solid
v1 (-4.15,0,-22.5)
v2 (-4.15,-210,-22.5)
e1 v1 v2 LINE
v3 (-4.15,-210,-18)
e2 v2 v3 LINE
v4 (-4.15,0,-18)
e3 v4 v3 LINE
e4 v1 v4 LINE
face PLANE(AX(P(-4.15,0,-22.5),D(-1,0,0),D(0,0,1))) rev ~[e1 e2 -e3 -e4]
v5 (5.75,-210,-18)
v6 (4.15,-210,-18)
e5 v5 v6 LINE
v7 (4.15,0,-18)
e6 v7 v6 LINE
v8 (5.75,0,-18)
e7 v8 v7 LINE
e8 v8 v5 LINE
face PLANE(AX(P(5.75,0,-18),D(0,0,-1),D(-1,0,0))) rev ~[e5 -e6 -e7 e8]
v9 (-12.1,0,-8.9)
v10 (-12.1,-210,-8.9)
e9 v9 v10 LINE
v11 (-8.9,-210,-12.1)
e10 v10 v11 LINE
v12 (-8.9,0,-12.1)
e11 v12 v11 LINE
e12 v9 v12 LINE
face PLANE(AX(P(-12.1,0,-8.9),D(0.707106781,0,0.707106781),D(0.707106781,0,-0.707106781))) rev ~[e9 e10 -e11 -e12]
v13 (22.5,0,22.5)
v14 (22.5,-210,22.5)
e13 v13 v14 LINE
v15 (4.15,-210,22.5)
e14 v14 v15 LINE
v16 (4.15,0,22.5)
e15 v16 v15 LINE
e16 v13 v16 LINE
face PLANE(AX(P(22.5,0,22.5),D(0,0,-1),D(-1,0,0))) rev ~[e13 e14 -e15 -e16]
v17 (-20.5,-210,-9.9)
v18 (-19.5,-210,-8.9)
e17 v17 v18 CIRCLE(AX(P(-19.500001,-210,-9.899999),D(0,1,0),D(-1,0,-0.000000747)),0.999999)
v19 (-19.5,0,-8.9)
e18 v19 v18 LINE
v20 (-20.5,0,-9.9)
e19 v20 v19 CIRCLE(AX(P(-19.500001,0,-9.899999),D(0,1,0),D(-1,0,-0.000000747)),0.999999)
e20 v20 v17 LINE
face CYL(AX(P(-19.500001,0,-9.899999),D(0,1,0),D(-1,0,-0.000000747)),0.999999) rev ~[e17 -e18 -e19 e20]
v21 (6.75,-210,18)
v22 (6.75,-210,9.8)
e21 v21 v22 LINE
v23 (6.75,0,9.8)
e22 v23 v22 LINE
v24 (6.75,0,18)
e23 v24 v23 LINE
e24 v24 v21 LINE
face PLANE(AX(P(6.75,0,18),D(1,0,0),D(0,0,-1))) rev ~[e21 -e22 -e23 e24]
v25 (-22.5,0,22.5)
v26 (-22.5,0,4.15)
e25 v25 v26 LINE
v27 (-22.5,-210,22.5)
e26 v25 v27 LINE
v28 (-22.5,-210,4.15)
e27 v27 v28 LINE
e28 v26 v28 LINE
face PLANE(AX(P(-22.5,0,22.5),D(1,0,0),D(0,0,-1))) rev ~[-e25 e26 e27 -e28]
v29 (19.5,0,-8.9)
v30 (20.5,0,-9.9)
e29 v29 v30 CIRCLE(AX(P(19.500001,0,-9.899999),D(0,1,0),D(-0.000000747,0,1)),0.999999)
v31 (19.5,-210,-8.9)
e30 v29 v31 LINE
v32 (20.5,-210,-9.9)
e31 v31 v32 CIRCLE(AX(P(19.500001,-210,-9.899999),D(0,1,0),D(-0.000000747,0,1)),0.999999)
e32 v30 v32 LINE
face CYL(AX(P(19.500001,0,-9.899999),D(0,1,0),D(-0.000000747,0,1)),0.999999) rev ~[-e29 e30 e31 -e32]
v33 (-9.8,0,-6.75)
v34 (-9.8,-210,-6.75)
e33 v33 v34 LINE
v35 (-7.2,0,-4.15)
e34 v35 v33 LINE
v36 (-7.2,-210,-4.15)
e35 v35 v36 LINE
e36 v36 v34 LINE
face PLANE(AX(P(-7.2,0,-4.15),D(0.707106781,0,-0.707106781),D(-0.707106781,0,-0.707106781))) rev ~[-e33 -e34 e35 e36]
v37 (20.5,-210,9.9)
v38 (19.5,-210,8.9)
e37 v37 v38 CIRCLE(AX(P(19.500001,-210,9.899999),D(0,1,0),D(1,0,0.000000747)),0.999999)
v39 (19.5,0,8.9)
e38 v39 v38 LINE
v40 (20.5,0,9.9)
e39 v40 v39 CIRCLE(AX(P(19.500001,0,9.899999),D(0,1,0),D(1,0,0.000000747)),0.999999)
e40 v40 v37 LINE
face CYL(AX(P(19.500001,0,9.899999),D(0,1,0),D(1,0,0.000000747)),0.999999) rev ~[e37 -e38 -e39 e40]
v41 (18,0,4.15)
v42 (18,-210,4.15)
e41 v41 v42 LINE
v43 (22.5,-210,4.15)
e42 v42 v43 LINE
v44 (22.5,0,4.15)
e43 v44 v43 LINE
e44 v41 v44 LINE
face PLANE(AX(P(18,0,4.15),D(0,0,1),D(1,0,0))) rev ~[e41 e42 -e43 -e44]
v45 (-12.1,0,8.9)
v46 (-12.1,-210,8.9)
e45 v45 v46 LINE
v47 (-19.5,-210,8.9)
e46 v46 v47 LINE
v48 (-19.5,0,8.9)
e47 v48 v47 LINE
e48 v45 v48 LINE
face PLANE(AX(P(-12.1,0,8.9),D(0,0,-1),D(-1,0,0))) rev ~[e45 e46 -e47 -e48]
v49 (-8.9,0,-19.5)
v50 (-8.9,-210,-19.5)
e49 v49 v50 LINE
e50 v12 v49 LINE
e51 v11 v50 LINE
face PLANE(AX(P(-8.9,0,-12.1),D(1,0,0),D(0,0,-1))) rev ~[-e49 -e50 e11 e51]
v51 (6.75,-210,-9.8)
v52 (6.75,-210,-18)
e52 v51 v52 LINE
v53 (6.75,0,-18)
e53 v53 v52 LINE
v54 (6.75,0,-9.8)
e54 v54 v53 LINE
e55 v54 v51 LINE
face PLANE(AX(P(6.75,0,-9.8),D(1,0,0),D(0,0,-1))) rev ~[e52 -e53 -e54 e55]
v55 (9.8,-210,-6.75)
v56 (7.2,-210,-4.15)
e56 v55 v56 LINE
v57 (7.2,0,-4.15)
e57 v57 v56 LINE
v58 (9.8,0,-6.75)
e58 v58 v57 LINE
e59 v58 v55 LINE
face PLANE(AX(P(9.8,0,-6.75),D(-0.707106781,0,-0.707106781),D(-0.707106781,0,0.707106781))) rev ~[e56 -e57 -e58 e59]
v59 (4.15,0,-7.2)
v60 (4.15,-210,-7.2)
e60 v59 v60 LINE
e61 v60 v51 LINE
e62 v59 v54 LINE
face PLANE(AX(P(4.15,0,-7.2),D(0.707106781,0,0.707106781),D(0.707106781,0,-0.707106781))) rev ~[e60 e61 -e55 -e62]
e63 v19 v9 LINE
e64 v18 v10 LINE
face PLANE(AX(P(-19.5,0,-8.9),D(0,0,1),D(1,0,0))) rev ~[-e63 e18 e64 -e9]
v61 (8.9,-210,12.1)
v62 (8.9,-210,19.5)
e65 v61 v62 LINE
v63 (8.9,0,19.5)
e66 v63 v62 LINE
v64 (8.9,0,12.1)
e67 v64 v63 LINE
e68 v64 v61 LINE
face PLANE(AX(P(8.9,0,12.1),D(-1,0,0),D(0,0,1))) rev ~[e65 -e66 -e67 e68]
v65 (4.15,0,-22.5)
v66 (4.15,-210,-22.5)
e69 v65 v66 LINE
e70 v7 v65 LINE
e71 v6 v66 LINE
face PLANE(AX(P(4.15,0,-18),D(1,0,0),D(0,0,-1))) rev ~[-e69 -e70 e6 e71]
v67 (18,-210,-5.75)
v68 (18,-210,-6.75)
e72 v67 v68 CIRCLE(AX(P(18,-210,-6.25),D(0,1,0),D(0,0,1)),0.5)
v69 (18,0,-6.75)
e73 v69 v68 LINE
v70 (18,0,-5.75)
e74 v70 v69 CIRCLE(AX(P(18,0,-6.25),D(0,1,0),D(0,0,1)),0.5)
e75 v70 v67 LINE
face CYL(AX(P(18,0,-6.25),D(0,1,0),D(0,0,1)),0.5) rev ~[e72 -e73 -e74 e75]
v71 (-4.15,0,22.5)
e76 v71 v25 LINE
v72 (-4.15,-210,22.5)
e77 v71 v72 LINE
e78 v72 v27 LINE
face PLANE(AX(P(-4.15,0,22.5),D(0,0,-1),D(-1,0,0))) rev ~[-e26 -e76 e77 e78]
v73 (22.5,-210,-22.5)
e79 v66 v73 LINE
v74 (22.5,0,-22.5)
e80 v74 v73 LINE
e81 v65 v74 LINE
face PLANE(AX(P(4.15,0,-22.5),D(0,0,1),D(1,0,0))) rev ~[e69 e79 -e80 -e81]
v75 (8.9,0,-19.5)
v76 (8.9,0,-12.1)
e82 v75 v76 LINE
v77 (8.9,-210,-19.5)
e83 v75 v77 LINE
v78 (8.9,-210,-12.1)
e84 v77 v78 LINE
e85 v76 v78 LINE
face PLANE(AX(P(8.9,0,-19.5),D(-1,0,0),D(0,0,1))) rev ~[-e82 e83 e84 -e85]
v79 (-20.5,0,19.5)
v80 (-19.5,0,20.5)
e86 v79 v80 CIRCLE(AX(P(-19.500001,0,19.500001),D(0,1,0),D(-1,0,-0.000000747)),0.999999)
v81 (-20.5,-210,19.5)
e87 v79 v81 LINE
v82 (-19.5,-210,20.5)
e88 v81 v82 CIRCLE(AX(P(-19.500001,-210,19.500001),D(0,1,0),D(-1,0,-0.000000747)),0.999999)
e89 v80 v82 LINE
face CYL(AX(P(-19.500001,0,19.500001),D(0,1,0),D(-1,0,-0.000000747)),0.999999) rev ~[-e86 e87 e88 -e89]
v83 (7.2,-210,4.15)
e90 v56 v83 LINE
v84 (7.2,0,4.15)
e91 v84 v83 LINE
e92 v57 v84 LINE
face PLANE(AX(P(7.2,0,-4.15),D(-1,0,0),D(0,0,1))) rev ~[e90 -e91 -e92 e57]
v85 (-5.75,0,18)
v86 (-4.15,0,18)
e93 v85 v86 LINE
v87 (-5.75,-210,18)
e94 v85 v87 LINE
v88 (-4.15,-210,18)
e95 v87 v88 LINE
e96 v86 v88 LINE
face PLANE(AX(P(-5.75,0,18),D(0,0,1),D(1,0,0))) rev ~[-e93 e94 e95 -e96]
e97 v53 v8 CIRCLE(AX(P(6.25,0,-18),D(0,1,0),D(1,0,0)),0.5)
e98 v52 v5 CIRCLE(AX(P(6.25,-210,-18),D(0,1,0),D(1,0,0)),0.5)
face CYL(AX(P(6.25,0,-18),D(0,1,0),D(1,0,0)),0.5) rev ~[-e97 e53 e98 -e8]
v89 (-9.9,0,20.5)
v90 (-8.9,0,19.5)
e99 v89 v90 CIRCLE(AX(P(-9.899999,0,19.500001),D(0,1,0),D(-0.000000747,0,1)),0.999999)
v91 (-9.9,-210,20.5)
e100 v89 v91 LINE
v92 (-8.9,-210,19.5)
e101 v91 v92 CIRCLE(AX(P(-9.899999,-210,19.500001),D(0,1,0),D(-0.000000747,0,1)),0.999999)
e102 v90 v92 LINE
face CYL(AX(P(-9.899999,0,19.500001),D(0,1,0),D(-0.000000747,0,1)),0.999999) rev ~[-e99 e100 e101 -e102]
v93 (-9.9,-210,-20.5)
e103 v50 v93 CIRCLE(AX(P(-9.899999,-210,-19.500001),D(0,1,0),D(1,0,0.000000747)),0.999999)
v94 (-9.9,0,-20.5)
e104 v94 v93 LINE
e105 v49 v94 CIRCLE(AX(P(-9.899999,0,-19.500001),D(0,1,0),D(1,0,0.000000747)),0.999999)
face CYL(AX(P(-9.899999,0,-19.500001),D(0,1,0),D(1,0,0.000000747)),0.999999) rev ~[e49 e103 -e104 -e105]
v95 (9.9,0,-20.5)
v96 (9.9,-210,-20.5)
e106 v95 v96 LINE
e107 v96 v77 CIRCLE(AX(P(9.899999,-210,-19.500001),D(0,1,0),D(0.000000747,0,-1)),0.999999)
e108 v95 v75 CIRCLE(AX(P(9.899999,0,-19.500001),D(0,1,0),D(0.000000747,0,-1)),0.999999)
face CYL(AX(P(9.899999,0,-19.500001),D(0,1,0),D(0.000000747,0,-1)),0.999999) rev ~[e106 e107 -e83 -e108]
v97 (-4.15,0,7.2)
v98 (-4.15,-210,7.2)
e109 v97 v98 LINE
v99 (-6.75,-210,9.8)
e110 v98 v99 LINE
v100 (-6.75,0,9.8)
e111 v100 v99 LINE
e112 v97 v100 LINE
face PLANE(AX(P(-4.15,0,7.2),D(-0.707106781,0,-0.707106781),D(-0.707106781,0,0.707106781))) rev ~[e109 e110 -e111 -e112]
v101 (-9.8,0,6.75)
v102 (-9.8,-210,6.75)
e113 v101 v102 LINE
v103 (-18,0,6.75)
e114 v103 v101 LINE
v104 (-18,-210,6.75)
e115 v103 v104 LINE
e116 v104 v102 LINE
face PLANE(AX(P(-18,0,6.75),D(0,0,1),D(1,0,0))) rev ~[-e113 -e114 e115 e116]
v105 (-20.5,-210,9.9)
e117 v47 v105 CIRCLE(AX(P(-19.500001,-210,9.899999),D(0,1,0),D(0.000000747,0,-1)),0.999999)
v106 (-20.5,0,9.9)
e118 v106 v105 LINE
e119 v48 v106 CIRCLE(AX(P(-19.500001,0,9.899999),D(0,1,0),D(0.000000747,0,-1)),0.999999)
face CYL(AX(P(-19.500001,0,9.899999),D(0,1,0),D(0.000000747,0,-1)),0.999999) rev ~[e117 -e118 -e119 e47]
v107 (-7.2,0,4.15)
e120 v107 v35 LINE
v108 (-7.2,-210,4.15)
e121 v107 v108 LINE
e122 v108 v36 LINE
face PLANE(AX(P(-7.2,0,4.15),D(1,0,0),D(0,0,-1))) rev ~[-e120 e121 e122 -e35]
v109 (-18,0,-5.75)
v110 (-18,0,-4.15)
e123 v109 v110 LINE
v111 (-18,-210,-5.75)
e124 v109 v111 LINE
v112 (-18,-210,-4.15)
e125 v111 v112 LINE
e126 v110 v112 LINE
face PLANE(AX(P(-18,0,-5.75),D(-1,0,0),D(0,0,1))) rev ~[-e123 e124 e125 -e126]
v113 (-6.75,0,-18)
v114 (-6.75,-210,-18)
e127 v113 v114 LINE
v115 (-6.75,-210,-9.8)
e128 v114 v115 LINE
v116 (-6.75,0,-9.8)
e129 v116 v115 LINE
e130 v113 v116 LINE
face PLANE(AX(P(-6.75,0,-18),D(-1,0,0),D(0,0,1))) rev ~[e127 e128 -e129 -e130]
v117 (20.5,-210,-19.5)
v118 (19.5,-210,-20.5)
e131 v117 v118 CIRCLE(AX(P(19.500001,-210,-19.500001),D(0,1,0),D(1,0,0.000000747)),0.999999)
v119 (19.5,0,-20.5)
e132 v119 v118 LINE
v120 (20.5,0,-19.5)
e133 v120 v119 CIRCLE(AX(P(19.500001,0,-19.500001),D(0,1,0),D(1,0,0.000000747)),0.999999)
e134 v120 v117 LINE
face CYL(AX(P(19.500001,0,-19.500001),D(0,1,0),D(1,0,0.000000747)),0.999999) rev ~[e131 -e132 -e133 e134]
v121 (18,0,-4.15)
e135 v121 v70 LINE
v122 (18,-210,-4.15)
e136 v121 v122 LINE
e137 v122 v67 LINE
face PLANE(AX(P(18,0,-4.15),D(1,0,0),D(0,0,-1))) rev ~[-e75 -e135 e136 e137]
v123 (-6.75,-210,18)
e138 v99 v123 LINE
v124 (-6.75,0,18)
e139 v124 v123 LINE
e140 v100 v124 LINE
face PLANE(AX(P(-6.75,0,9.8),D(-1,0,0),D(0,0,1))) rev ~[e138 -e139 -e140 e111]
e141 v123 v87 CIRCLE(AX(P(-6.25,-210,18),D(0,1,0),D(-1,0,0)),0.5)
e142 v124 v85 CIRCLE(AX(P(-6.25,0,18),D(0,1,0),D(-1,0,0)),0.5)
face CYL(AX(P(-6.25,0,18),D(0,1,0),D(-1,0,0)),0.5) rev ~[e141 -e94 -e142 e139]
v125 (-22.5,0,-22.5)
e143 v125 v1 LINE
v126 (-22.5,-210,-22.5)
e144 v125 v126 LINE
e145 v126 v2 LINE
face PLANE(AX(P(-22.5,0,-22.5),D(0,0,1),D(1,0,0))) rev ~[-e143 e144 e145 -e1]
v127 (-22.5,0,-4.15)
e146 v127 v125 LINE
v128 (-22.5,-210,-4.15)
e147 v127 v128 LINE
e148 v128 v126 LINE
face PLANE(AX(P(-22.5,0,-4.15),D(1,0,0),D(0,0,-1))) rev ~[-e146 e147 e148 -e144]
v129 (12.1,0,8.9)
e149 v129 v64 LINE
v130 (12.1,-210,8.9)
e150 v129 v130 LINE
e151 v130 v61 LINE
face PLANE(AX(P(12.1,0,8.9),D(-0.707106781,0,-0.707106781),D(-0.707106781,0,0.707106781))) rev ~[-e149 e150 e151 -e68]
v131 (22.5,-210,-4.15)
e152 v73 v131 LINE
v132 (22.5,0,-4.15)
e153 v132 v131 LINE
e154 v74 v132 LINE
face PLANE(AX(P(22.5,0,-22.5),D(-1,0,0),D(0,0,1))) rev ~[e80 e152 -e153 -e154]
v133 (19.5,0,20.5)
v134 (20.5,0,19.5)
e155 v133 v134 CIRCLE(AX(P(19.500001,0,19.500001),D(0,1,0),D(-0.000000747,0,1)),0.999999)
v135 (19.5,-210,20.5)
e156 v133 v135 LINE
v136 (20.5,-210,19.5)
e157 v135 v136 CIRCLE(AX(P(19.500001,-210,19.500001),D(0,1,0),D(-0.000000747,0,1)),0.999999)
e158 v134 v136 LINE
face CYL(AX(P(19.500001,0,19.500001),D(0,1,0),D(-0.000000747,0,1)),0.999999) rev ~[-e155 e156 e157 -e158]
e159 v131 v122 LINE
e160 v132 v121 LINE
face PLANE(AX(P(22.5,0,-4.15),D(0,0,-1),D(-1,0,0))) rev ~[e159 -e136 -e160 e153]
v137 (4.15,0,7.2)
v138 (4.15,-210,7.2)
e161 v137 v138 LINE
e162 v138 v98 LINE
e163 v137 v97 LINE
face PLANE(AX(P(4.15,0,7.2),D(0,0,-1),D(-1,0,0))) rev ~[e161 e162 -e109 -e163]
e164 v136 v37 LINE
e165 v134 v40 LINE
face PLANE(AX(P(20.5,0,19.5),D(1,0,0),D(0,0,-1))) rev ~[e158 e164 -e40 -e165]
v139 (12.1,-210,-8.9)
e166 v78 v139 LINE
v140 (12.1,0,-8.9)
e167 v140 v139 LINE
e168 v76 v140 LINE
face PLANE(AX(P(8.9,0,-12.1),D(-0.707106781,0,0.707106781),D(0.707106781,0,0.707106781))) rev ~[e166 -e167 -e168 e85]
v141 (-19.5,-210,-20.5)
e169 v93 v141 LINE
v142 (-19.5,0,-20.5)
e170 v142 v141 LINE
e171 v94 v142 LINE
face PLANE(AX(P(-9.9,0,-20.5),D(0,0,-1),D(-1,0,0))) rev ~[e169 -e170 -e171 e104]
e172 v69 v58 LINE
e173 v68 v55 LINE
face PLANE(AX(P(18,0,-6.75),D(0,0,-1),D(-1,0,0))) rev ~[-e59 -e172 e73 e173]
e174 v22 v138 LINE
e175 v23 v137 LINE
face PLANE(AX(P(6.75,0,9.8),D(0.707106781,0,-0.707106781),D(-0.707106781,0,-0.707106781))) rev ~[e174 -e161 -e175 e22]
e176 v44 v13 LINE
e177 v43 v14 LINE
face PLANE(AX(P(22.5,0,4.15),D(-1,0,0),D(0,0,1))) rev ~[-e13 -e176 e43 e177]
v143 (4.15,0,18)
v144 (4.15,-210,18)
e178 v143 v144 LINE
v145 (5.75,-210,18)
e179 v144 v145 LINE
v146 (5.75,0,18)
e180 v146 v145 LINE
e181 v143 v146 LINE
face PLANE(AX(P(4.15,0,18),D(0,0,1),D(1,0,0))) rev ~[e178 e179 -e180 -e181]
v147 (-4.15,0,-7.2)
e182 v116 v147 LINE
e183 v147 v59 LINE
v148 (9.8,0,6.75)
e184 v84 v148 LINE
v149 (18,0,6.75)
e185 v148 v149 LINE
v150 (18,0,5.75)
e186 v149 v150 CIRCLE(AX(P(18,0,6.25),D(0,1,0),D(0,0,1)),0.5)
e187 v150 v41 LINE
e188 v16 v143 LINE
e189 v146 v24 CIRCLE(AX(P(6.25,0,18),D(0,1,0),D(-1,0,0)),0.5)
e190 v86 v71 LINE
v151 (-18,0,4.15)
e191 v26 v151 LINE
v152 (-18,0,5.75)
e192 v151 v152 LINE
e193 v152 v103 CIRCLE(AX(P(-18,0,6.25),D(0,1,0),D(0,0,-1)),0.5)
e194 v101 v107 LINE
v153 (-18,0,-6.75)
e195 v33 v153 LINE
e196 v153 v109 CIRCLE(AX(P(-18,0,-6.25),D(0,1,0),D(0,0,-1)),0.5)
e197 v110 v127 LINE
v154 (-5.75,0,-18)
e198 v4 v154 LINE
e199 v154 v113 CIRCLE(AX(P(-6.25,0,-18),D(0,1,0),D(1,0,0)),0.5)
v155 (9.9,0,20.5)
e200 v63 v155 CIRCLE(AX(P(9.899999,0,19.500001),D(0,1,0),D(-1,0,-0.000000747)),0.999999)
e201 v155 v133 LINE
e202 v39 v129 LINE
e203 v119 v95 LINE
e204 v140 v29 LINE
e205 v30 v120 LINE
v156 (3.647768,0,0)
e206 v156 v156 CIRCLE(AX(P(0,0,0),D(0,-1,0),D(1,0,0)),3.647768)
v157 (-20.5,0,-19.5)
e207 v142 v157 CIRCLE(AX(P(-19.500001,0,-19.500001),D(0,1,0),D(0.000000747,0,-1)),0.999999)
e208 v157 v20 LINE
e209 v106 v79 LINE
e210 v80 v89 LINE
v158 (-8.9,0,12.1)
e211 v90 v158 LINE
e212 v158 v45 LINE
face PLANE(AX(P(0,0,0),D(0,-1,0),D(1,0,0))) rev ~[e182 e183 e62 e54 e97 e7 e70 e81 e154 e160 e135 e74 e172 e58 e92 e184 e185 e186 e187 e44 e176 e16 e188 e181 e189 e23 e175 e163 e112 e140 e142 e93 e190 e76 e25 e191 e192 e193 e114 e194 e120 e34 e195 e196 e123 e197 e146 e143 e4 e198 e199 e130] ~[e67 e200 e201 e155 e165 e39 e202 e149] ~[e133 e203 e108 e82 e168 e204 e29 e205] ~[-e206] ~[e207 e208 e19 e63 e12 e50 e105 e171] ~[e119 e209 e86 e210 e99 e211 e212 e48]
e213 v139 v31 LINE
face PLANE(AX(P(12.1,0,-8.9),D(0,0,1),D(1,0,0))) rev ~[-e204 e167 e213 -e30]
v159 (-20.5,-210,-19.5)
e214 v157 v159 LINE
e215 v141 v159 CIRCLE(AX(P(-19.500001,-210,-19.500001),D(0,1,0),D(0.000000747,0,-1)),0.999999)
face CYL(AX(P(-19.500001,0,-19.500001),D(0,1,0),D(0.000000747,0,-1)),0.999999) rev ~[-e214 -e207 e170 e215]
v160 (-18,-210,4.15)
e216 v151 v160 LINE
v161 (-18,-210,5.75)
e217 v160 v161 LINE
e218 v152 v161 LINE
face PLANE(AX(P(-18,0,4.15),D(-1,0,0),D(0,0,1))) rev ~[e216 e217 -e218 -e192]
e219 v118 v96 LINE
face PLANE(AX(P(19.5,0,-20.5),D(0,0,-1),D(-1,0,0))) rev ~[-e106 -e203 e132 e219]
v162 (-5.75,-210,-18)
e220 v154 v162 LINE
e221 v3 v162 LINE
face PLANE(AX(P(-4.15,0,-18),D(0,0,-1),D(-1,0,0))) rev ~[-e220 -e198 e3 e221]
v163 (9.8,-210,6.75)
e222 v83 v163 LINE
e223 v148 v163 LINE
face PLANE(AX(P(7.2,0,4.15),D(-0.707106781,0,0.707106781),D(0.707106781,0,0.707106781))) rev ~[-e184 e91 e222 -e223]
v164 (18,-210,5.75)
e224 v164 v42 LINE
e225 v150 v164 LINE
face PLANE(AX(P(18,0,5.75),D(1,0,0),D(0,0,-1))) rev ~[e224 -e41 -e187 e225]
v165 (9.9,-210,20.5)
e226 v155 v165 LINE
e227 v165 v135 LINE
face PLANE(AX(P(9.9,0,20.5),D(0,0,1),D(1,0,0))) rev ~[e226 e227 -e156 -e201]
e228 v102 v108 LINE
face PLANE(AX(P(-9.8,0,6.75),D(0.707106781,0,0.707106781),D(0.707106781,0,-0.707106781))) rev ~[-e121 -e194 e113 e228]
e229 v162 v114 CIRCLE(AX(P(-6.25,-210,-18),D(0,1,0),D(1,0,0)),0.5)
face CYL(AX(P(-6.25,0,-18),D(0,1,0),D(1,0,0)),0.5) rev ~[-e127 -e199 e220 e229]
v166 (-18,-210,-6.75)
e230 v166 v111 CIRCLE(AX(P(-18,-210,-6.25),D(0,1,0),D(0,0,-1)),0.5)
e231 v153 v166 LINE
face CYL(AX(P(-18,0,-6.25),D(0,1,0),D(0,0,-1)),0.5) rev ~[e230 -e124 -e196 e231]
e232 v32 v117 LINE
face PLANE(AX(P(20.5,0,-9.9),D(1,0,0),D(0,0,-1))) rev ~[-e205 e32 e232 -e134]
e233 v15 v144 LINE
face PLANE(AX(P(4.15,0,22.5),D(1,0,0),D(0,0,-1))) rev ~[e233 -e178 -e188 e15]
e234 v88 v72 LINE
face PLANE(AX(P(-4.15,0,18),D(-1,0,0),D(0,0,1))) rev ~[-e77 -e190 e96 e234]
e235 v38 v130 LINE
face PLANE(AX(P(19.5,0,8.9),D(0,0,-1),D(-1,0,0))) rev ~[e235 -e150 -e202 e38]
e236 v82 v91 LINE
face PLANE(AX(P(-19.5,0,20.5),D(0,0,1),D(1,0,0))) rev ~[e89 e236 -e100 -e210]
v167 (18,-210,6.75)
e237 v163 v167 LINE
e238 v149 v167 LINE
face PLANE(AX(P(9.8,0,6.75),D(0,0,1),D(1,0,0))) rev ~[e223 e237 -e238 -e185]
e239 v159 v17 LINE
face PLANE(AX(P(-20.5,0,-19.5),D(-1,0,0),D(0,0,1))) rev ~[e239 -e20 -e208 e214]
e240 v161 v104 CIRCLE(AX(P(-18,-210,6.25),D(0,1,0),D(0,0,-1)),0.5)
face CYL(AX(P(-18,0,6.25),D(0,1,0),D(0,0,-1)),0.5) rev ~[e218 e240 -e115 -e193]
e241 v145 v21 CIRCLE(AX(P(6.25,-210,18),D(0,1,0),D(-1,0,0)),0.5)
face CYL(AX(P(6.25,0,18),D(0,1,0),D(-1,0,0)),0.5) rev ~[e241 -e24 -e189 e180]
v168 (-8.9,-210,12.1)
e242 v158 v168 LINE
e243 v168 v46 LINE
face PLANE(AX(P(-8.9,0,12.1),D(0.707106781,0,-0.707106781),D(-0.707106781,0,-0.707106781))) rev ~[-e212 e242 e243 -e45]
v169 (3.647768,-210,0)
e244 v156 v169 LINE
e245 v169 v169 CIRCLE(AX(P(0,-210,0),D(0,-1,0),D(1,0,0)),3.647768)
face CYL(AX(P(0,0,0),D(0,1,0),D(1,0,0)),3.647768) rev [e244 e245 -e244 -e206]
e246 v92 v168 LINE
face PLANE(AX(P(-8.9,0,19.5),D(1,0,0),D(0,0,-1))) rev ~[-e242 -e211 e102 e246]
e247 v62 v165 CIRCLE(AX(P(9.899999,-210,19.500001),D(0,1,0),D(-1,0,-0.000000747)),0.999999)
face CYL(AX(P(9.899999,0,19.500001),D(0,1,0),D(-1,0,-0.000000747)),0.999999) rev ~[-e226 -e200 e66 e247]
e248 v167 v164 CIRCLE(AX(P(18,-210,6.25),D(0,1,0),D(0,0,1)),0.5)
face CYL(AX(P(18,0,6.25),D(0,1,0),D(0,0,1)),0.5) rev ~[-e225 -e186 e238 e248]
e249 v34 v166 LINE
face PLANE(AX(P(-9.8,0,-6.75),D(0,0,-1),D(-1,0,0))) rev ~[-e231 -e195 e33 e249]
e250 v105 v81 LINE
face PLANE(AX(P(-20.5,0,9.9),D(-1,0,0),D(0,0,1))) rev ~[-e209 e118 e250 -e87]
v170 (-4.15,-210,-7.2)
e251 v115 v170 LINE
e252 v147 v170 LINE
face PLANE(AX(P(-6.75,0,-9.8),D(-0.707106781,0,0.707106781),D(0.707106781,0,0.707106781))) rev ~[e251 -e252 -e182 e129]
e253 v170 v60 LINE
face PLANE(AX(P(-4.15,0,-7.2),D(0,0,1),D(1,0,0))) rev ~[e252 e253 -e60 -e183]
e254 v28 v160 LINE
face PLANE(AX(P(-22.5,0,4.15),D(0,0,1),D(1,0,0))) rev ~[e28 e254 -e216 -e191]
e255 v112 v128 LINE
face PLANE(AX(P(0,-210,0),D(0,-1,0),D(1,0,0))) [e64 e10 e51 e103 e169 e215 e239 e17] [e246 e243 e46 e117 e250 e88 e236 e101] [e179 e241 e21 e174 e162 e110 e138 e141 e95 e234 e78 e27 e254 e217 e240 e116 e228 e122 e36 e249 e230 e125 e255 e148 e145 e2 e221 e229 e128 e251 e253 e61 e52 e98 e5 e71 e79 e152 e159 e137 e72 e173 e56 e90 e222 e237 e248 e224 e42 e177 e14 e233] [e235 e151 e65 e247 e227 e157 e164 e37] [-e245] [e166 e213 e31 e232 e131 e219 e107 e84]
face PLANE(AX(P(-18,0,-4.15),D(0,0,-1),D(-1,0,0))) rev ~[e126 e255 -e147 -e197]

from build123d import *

# Parameters (mm, degrees)
F0_R     = 3.647768
F1_DEPTH = 210


with BuildPart() as f1:
    # F0 (on Front) → F1 (new body)
    with BuildSketch(Plane.XZ):
        with BuildLine():
            Line((-4.15, 22.5), (-22.5, 22.5))
            Line((-22.5, 22.5), (-22.5, 4.15))
            Line((-22.5, 4.15), (-18, 4.15))
            Line((-18, 4.15), (-18, 5.75))
            ThreePointArc((-18, 5.75), (-18.5, 6.25), (-18, 6.75))
            Line((-18, 6.75), (-9.8, 6.75))
            Line((-9.8, 6.75), (-7.2, 4.15))
            Line((-7.2, 4.15), (-7.2, -4.15))
            Line((-7.2, -4.15), (-9.8, -6.75))
            Line((-9.8, -6.75), (-18, -6.75))
            ThreePointArc((-18, -6.75), (-18.5, -6.25), (-18, -5.75))
            Line((-18, -5.75), (-18, -4.15))
            Line((-18, -4.15), (-22.5, -4.15))
            Line((-22.5, -4.15), (-22.5, -22.5))
            Line((-22.5, -22.5), (-4.15, -22.5))
            Line((-4.15, -22.5), (-4.15, -18))
            Line((-4.15, -18), (-5.75, -18))
            ThreePointArc((-5.75, -18), (-6.25, -18.5), (-6.75, -18))
            Line((-6.75, -18), (-6.75, -9.8))
            Line((-6.75, -9.8), (-4.15, -7.2))
            Line((-4.15, -7.2), (4.15, -7.2))
            Line((4.15, -7.2), (6.75, -9.8))
            Line((6.75, -9.8), (6.75, -18))
            ThreePointArc((6.75, -18), (6.25, -18.5), (5.75, -18))
            Line((5.75, -18), (4.15, -18))
            Line((4.15, -18), (4.15, -22.5))
            Line((4.15, -22.5), (22.5, -22.5))
            Line((22.5, -22.5), (22.5, -4.15))
            Line((22.5, -4.15), (18, -4.15))
            Line((18, -4.15), (18, -5.75))
            ThreePointArc((18, -5.75), (18.5, -6.25), (18, -6.75))
            Line((18, -6.75), (9.8, -6.75))
            Line((9.8, -6.75), (7.2, -4.15))
            Line((7.2, -4.15), (7.2, 4.15))
            Line((7.2, 4.15), (9.8, 6.75))
            Line((9.8, 6.75), (18, 6.75))
            ThreePointArc((18, 6.75), (18.5, 6.25), (18, 5.75))
            Line((18, 5.75), (18, 4.15))
            Line((18, 4.15), (22.5, 4.15))
            Line((22.5, 4.15), (22.5, 22.5))
            Line((22.5, 22.5), (4.15, 22.5))
            Line((4.15, 22.5), (4.15, 18))
            Line((4.15, 18), (5.75, 18))
            ThreePointArc((5.75, 18), (6.25, 18.5), (6.75, 18))
            Line((6.75, 18), (6.75, 9.8))
            Line((6.75, 9.8), (4.15, 7.2))
            Line((4.15, 7.2), (-4.15, 7.2))
            Line((-4.15, 7.2), (-6.75, 9.8))
            Line((-6.75, 9.8), (-6.75, 18))
            ThreePointArc((-6.75, 18), (-6.25, 18.5), (-5.75, 18))
            Line((-5.75, 18), (-4.15, 18))
            Line((-4.15, 18), (-4.15, 22.5))
        make_face()
        with BuildLine():
            Line((-8.9, -12.1), (-8.9, -19.5))
            ThreePointArc((-8.9, -19.5), (-9.192893, -20.207107), (-9.9, -20.5))
            Line((-9.9, -20.5), (-19.5, -20.5))
            ThreePointArc((-19.5, -20.5), (-20.207107, -20.207107), (-20.5, -19.5))
            Line((-20.5, -19.5), (-20.5, -9.9))
            ThreePointArc((-20.5, -9.9), (-20.207107, -9.192893), (-19.5, -8.9))
            Line((-19.5, -8.9), (-12.1, -8.9))
            Line((-12.1, -8.9), (-8.9, -12.1))
        make_face(mode=Mode.SUBTRACT)
        with BuildLine():
            Line((8.9, -12.1), (12.1, -8.9))
            Line((12.1, -8.9), (19.5, -8.9))
            ThreePointArc((19.5, -8.9), (20.207107, -9.192893), (20.5, -9.9))
            Line((20.5, -9.9), (20.5, -19.5))
            ThreePointArc((20.5, -19.5), (20.207107, -20.207107), (19.5, -20.5))
            Line((19.5, -20.5), (9.9, -20.5))
            ThreePointArc((9.9, -20.5), (9.192893, -20.207107), (8.9, -19.5))
            Line((8.9, -19.5), (8.9, -12.1))
        make_face(mode=Mode.SUBTRACT)
        with BuildLine():
            ThreePointArc((-20.5, 19.5), (-20.207107, 20.207107), (-19.5, 20.5))
            Line((-19.5, 20.5), (-9.9, 20.5))
            ThreePointArc((-9.9, 20.5), (-9.192893, 20.207107), (-8.9, 19.5))
            Line((-8.9, 19.5), (-8.9, 12.1))
            Line((-8.9, 12.1), (-12.1, 8.9))
            Line((-12.1, 8.9), (-19.5, 8.9))
            ThreePointArc((-19.5, 8.9), (-20.207107, 9.192893), (-20.5, 9.9))
            Line((-20.5, 9.9), (-20.5, 19.5))
        make_face(mode=Mode.SUBTRACT)
        Circle(F0_R, mode=Mode.SUBTRACT)
        with BuildLine():
            Line((12.1, 8.9), (8.9, 12.1))
            Line((8.9, 12.1), (8.9, 19.5))
            ThreePointArc((8.9, 19.5), (9.192893, 20.207107), (9.9, 20.5))
            Line((9.9, 20.5), (19.5, 20.5))
            ThreePointArc((19.5, 20.5), (20.207107, 20.207107), (20.5, 19.5))
            Line((20.5, 19.5), (20.5, 9.9))
            ThreePointArc((20.5, 9.9), (20.207107, 9.192893), (19.5, 8.9))
            Line((19.5, 8.9), (12.1, 8.9))
        make_face(mode=Mode.SUBTRACT)
    extrude(amount=F1_DEPTH)


solid = f1.part
